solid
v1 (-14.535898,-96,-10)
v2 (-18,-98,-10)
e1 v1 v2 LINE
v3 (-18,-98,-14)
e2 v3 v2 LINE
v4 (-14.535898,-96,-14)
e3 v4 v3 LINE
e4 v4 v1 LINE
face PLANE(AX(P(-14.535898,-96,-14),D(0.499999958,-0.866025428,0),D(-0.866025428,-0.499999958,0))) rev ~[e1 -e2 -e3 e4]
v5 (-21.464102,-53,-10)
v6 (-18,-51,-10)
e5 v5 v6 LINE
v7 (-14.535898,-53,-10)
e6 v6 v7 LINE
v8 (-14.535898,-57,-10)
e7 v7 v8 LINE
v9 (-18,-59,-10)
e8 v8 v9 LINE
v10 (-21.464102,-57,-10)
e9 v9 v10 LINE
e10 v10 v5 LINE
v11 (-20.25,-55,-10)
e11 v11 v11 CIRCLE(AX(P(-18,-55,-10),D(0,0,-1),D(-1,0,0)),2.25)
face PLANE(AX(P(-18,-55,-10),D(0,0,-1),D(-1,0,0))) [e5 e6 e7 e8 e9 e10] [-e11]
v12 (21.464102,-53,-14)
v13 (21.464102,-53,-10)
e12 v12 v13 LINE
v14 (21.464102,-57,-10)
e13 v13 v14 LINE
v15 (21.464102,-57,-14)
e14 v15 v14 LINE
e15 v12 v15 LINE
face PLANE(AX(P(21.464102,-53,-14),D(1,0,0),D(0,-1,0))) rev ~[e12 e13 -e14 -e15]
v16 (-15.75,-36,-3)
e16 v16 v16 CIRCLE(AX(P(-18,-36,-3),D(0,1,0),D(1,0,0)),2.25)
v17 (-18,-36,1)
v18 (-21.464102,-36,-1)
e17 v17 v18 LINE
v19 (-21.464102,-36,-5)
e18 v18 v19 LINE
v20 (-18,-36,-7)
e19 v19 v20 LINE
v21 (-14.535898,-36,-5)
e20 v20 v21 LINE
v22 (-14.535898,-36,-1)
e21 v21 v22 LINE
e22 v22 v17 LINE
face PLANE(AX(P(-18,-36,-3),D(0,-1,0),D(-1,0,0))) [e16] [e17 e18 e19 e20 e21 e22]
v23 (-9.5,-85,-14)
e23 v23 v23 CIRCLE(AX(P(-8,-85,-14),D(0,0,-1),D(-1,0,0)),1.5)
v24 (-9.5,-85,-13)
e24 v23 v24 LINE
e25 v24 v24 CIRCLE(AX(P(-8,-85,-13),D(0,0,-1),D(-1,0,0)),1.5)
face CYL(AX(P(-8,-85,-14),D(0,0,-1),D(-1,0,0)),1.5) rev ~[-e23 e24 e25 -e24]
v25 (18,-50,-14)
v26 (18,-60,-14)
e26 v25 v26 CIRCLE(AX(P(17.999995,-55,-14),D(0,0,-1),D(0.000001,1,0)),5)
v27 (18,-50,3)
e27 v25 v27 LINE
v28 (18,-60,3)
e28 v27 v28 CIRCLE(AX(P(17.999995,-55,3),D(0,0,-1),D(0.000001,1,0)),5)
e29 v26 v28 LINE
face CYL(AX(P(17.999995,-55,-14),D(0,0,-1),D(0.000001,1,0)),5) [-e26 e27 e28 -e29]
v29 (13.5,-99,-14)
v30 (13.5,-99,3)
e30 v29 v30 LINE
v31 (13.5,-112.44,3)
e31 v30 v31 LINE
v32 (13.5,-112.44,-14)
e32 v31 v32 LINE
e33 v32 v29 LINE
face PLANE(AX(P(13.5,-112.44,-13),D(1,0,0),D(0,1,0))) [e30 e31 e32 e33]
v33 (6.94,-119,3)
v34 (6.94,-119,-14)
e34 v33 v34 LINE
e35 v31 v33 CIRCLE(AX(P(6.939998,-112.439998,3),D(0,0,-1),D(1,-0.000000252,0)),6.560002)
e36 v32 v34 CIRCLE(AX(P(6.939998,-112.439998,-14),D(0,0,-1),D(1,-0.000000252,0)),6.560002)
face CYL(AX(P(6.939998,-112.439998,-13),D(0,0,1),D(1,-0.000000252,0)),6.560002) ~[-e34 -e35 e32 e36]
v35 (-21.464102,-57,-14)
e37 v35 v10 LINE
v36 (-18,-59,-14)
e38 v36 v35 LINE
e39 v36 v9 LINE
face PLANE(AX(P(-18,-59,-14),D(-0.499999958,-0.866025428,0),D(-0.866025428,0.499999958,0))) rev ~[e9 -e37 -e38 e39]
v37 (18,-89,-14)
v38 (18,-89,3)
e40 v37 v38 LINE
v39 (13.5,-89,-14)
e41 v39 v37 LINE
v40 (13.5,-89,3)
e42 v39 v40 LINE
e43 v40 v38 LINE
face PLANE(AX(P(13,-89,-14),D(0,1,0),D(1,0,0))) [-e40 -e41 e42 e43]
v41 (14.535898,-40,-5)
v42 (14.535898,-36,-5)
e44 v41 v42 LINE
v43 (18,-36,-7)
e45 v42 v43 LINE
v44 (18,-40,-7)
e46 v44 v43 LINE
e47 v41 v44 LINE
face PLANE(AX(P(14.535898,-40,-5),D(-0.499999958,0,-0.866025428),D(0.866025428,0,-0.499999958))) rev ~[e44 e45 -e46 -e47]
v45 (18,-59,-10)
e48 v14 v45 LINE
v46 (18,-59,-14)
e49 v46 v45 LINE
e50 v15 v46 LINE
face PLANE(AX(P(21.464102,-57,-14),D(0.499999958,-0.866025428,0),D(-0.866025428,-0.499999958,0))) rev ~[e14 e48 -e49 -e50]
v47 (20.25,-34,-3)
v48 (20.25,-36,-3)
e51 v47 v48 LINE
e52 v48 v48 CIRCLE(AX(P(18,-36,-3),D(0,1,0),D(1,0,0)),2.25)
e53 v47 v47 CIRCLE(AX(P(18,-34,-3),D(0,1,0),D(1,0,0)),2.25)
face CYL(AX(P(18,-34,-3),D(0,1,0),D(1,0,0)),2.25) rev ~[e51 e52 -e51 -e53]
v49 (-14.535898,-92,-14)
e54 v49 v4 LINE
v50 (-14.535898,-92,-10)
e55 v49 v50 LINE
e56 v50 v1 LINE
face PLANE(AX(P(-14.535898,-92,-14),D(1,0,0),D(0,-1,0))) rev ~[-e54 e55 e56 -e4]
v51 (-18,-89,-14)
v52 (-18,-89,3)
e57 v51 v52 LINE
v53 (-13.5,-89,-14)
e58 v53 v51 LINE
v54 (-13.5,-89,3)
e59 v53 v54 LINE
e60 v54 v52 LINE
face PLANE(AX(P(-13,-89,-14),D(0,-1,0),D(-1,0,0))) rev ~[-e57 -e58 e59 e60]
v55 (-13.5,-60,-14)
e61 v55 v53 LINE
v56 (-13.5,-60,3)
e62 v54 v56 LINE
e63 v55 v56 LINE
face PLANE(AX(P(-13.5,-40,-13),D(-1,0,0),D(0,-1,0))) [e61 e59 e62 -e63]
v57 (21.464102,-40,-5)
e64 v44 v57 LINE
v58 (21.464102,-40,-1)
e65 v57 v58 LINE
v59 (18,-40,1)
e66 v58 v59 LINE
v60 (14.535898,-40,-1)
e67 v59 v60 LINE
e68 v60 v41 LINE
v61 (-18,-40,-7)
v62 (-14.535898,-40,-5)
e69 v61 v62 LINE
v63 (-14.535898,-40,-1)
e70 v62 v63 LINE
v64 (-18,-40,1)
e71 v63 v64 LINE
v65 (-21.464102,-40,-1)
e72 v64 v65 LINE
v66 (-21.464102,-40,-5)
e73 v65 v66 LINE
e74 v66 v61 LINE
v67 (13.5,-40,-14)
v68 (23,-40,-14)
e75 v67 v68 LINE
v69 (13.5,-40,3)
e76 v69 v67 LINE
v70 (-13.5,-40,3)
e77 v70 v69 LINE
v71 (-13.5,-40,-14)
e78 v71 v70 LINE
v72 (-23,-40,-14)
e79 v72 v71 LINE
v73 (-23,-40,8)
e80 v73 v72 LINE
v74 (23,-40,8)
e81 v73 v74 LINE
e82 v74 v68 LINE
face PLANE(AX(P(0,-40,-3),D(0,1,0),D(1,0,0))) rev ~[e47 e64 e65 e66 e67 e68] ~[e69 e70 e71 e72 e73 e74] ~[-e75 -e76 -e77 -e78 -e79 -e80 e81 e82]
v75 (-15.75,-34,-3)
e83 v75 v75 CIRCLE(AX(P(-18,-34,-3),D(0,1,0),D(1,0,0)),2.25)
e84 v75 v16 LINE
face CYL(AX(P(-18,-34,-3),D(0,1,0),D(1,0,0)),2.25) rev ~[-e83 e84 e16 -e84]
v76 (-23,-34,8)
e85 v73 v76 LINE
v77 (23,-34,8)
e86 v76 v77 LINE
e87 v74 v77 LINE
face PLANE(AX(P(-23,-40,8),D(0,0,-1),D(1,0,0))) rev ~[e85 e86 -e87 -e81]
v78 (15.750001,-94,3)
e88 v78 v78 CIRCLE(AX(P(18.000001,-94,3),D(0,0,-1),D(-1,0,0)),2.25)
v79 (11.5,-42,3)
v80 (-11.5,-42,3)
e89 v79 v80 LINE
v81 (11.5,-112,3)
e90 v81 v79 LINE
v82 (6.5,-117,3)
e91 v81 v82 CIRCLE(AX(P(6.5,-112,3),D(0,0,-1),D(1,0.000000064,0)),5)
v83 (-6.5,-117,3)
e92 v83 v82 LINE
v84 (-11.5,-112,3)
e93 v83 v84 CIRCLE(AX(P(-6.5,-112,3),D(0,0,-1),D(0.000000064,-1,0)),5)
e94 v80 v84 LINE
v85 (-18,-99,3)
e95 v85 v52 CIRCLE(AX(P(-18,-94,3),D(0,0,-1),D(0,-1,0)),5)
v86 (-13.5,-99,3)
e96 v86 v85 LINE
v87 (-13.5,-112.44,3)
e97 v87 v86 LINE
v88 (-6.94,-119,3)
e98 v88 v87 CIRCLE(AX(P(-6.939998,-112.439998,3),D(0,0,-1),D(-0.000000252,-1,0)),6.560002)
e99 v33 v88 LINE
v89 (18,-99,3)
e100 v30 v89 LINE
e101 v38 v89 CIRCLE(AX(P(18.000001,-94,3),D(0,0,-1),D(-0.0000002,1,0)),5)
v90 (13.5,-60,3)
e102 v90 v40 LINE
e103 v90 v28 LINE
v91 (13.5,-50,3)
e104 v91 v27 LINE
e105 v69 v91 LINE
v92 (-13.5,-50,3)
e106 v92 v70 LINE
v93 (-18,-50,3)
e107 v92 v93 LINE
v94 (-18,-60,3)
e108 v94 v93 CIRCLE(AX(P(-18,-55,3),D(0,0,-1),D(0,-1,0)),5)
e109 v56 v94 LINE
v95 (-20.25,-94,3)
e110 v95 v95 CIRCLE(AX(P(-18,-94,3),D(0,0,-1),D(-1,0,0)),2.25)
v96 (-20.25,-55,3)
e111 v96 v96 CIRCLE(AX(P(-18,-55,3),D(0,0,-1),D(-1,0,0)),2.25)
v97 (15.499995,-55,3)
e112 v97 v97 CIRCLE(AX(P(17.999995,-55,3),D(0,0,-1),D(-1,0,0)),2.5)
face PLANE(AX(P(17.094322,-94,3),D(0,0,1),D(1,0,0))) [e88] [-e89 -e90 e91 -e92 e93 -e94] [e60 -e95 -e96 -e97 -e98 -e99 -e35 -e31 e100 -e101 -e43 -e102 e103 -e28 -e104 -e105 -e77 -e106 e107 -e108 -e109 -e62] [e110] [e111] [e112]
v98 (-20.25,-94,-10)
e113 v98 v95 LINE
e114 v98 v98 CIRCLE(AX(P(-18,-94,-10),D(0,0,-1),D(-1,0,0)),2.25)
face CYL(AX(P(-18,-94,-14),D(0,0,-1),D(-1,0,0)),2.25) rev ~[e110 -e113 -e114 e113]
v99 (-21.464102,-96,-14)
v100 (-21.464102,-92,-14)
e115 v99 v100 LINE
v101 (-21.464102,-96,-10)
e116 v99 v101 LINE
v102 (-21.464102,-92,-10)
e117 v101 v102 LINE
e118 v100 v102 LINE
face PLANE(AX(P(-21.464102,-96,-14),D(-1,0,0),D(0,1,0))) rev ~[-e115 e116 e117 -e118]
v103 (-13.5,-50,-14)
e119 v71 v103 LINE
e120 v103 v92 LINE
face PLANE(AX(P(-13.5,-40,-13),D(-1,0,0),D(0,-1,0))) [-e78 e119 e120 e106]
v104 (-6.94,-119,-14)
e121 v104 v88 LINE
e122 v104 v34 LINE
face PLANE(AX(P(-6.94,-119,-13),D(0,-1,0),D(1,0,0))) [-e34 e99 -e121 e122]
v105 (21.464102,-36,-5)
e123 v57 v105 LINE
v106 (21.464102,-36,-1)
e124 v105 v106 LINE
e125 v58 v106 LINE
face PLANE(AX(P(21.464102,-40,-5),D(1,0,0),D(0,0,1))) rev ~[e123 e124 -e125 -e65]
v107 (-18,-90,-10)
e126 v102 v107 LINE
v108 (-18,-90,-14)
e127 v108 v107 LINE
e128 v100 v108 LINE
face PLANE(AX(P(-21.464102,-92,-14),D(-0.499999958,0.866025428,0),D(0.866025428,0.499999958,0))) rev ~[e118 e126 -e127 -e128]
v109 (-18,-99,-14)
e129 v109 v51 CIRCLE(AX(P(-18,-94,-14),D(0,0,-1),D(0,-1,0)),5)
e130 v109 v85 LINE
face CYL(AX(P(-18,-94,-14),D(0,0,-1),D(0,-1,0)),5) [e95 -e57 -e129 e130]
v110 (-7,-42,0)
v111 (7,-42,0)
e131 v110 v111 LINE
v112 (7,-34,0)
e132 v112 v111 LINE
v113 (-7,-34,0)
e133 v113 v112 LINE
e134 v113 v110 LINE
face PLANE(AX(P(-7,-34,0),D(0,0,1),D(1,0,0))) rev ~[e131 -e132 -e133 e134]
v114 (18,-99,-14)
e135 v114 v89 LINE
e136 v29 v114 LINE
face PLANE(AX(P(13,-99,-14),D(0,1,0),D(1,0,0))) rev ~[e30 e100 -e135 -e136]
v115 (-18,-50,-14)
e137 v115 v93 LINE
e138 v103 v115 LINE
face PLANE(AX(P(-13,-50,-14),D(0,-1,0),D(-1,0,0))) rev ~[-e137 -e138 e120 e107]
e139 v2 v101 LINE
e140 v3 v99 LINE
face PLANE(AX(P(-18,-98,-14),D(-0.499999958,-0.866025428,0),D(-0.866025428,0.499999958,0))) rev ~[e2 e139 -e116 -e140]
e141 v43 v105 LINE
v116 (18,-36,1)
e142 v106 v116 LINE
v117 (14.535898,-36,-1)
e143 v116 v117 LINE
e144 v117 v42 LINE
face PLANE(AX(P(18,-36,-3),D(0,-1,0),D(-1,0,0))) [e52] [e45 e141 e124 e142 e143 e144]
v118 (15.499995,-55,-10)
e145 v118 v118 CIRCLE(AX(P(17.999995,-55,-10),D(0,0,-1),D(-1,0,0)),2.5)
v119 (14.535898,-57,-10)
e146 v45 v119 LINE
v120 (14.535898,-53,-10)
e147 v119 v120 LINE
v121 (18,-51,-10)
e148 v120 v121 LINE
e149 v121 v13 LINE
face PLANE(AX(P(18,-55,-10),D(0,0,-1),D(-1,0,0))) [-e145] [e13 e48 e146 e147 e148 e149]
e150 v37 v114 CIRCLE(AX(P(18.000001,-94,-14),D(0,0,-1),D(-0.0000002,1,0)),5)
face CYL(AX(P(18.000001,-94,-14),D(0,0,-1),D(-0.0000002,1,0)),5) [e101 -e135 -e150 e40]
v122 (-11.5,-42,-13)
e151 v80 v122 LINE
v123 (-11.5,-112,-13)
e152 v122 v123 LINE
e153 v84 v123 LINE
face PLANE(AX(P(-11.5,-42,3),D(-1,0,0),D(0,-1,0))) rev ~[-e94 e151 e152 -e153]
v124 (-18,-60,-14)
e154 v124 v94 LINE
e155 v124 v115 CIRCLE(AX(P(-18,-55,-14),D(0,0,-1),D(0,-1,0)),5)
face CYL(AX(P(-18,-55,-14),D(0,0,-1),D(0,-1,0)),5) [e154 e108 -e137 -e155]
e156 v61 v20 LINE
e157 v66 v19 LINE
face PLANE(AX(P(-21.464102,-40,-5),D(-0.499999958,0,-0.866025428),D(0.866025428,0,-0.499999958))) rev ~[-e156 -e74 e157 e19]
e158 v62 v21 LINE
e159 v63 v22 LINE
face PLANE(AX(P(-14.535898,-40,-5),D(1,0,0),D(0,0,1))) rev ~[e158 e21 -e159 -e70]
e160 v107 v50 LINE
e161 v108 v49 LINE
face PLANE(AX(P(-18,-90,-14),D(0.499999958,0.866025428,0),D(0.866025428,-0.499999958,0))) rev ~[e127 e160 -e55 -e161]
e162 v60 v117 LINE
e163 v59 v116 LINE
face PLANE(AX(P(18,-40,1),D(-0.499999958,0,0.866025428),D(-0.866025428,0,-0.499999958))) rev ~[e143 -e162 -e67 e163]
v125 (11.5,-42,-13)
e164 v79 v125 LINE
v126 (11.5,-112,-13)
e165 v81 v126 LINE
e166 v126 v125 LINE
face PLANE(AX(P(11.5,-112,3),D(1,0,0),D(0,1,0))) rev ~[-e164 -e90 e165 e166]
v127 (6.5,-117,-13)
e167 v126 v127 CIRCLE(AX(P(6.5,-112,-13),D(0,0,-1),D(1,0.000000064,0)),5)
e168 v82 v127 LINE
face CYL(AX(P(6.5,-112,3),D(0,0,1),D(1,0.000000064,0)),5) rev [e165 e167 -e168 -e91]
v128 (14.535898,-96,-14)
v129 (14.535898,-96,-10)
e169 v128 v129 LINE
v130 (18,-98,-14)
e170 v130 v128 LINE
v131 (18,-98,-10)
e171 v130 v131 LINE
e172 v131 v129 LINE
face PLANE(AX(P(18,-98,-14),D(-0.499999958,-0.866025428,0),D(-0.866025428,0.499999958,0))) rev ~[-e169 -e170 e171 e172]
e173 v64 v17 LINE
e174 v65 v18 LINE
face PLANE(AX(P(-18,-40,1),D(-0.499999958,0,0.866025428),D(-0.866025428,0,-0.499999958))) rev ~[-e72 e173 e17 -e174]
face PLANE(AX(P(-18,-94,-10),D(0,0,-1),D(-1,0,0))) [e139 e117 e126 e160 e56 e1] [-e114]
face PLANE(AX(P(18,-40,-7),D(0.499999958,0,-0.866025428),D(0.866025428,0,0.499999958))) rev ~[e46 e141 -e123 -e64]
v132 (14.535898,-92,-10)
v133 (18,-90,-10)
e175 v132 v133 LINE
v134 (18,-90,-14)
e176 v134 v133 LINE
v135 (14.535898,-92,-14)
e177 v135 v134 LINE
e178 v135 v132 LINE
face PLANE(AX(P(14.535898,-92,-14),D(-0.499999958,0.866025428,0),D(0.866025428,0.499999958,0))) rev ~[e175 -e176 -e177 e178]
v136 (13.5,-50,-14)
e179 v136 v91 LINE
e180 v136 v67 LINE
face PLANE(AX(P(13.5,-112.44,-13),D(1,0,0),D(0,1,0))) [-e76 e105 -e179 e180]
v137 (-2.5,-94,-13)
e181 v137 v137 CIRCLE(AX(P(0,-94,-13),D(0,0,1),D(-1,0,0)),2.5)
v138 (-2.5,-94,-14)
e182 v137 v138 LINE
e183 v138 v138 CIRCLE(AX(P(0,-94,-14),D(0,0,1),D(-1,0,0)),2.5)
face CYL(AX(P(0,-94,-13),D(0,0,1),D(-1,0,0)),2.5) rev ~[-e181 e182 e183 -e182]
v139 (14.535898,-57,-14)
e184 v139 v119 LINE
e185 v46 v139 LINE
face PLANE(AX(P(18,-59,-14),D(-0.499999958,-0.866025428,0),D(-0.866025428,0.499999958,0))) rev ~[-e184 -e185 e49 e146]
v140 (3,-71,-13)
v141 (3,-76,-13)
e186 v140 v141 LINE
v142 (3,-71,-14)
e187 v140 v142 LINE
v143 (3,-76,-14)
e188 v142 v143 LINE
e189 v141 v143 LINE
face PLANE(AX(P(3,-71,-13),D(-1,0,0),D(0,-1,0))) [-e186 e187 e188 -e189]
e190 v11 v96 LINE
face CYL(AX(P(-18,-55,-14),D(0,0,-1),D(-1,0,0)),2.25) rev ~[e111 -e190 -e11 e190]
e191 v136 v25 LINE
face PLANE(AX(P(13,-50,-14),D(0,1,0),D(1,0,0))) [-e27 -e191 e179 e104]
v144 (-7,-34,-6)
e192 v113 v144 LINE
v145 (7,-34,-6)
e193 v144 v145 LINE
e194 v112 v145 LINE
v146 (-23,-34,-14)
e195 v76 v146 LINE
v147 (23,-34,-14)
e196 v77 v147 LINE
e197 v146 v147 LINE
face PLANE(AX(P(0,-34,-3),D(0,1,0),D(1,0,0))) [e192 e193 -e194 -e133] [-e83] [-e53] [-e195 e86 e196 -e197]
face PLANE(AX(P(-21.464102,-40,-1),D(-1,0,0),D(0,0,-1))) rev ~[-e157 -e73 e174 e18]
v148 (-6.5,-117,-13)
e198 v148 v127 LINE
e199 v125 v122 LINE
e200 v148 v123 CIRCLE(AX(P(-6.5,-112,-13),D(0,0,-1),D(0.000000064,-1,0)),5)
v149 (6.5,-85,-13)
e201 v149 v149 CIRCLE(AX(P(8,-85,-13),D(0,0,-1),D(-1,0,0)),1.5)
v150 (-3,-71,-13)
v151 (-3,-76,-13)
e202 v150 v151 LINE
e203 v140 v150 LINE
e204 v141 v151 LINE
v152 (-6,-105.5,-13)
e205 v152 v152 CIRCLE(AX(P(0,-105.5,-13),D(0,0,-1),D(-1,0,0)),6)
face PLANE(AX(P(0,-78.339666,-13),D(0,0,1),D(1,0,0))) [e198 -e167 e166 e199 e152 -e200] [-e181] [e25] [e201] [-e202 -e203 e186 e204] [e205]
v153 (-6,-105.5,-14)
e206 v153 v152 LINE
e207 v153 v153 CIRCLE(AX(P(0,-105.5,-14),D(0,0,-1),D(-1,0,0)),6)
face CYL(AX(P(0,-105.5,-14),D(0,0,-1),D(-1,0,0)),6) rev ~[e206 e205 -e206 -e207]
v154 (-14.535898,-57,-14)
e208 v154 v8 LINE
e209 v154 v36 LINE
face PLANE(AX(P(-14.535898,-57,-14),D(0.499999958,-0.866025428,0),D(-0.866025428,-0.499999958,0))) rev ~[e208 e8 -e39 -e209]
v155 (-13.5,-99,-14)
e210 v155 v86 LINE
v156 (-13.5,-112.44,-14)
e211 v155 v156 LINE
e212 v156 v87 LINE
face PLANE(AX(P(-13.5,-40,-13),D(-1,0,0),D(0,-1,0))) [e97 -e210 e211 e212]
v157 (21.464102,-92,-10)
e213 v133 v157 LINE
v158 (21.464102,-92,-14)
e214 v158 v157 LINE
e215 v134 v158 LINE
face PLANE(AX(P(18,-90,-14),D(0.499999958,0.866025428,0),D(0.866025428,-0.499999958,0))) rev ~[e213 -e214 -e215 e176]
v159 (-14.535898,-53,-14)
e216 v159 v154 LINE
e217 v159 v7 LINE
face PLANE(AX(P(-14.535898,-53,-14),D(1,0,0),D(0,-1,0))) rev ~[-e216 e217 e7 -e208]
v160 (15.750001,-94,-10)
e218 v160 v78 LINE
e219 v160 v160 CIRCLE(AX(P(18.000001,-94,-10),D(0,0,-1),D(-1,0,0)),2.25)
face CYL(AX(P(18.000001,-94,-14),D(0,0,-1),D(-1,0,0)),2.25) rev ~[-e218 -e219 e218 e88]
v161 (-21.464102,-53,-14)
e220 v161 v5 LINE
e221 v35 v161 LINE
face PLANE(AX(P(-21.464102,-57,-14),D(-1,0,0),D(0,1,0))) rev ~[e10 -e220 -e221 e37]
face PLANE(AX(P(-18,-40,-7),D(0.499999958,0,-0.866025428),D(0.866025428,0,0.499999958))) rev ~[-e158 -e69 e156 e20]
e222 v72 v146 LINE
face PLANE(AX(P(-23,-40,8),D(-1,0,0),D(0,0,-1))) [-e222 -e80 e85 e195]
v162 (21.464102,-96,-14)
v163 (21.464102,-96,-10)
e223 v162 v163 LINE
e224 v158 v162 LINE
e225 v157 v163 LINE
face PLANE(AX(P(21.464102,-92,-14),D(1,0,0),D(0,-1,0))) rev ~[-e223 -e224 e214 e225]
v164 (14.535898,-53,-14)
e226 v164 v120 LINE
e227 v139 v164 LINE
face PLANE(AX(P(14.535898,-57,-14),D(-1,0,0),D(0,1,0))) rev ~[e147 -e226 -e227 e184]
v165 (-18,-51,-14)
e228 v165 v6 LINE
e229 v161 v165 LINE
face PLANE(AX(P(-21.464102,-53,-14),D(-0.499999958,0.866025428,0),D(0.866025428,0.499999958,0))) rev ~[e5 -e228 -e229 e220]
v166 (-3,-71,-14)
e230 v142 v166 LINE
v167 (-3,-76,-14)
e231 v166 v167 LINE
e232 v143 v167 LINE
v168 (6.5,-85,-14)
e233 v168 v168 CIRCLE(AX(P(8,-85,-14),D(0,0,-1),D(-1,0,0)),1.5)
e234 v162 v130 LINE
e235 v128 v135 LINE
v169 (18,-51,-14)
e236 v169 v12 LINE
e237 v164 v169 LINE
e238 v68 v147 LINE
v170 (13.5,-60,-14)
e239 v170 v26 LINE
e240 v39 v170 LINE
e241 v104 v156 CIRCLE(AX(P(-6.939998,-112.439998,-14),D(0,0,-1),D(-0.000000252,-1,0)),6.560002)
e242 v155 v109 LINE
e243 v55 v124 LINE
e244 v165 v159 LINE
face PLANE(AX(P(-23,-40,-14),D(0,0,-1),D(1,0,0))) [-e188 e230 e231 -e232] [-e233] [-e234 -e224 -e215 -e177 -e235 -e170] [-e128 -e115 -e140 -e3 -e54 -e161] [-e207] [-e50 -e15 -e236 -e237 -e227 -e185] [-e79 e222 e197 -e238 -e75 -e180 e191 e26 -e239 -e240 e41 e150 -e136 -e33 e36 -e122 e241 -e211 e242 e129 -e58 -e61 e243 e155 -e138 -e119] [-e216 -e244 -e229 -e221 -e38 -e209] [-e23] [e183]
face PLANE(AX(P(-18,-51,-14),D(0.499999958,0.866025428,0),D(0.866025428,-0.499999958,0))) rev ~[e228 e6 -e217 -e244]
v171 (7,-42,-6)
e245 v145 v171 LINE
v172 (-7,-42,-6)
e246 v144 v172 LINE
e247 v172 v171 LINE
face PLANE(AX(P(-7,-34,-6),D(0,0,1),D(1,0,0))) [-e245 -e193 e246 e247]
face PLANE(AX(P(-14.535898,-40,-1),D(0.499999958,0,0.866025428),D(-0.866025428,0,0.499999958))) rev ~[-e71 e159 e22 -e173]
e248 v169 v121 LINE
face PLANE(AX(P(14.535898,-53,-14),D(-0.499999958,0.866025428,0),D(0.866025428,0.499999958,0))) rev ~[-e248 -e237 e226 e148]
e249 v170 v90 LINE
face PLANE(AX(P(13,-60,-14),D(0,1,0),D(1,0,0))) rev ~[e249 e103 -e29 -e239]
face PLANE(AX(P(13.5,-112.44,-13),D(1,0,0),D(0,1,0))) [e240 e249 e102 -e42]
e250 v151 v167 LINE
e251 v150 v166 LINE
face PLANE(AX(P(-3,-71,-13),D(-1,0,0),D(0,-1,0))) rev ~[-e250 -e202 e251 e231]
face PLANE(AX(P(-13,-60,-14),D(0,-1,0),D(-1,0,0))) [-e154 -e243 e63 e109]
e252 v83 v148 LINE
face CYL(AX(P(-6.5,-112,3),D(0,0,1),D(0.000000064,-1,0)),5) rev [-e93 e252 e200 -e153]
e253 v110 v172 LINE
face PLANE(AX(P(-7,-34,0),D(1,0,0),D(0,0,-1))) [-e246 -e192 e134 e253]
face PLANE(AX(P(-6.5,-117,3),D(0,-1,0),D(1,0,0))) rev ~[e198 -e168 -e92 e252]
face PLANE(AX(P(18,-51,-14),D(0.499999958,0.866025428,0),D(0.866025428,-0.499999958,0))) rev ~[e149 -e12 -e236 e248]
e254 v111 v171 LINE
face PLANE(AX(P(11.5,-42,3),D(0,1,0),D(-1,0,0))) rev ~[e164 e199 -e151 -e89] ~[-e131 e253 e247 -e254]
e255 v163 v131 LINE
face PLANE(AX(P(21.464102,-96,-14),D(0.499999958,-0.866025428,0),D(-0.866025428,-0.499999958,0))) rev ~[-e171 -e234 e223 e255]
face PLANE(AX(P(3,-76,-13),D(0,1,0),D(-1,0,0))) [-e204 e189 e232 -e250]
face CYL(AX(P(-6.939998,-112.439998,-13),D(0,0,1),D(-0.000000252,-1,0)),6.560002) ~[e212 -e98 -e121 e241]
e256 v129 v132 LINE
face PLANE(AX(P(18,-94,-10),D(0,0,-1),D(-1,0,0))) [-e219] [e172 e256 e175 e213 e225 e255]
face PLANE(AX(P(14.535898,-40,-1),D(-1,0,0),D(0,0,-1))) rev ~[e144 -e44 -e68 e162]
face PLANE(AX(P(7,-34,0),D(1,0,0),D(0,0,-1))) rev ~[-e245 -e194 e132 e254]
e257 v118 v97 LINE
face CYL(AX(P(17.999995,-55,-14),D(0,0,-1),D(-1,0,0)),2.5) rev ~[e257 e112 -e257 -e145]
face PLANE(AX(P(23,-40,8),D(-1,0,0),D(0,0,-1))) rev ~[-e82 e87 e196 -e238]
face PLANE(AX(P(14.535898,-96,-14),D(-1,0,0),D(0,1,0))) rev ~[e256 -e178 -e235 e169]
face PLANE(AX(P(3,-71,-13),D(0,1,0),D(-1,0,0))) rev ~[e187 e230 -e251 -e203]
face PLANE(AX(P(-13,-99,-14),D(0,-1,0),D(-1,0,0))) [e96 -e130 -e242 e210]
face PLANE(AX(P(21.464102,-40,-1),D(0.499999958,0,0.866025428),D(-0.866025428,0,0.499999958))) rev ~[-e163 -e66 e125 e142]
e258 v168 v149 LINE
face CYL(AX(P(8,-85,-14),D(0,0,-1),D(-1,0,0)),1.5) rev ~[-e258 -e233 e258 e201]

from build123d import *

# Parameters (mm, degrees)
PAD018_DEPTH            = 16
PAD019_DEPTH            = 1
SKETCH049_R             = 6
SKETCH049_R_2           = 1.5
POCKET012_DEPTH         = 5
SKETCH050_R             = 2.5
SKETCH050_W             = 6
SKETCH050_H             = 5
POCKET013_DEPTH         = 2
SKETCH051_R             = 2.25
SKETCH051_R_2           = 2.5
PAD020_DEPTH            = 17
SKETCH053_W             = 46
SKETCH053_H             = 22
PAD021_DEPTH            = 6
SKETCH054_R             = 2.25
POCKET015_DEPTH         = 8
POCKET016_DEPTH         = 4
SKETCH065_W             = 14
SKETCH065_H             = 6
POCKET023_DEPTH         = 8
POCKET080_DEPTH         = 4
BODY007_PLACEMENT_ANGLE = 180


with BuildPart() as part:
    # Sketch046 → Pad018 (new body)
    with BuildSketch(Plane.XY):
        with BuildLine():
            Line((-13.5, 0), (-13.5, -72.44))
            ThreePointArc((-13.5, -72.44), (-11.57862, -77.07862), (-6.94, -79))
            Line((-6.94, -79), (6.94, -79))
            ThreePointArc((6.94, -79), (11.57862, -77.07862), (13.5, -72.44))
            Line((13.5, -72.44), (13.5, 0))
            Line((13.5, 0), (-13.5, 0))
        make_face()
        with BuildLine():
            Line((11.5, -2), (11.5, -72))
            ThreePointArc((6.5, -77), (10.035534, -75.535534), (11.5, -72))
            Line((6.5, -77), (-6.5, -77))
            ThreePointArc((-11.5, -72), (-10.035534, -75.535534), (-6.5, -77))
            Line((-11.5, -72), (-11.5, -2))
            Line((-11.5, -2), (11.5, -2))
        make_face(mode=Mode.SUBTRACT)
    extrude(amount=PAD018_DEPTH)

    # Sketch047 (on Face14 of Pad018) → Pad019 (join)
    with BuildSketch(Plane.XY.offset(16)):
        with BuildLine():
            Line((-13.5, 0), (13.5, 0))
            Line((13.5, 0), (13.5, -72.44))
            ThreePointArc((6.94, -79), (11.57862, -77.07862), (13.5, -72.44))
            Line((6.94, -79), (-6.94, -79))
            ThreePointArc((-13.5, -72.44), (-11.57862, -77.07862), (-6.94, -79))
            Line((-13.5, -72.44), (-13.5, 0))
        make_face()
    extrude(amount=PAD019_DEPTH)

    # Sketch049 → Pocket012 (cut)
    with BuildSketch(Plane.XY.offset(17)):
        with Locations((0, -65.5)):
            Circle(SKETCH049_R)
        with Locations((8, -45)):
            Circle(SKETCH049_R_2)
        with Locations((-8, -45)):
            Circle(SKETCH049_R_2)
    extrude(amount=-POCKET012_DEPTH, mode=Mode.SUBTRACT)

    # Sketch050 (on Face21 of Pocket012) → Pocket013 (cut)
    with BuildSketch(Plane(origin=(0, 0, 16), x_dir=(1, 0, 0), z_dir=(0, 0, -1))):
        with Locations((0, 54)):
            Circle(SKETCH050_R)
        with Locations((0, 33.5)):
            Rectangle(SKETCH050_W, SKETCH050_H)
    extrude(amount=-POCKET013_DEPTH, mode=Mode.SUBTRACT)

    # Sketch051 (on Face17 of Pocket013) → Pad020 (join)
    with BuildSketch(Plane.XY.offset(17)):
        with BuildLine():
            Line((-13, -49), (-13, -59))
            Line((-13, -59), (-18, -59))
            ThreePointArc((-18, -49), (-23.000001, -54), (-18, -59))
            Line((-13, -49), (-18, -49))
        make_face()
        with Locations((-18.000001, -54)):
            Circle(SKETCH051_R, mode=Mode.SUBTRACT)
        with BuildLine():
            Line((13, -49), (13, -59))
            Line((13, -59), (18, -59))
            ThreePointArc((18, -59), (23, -54), (18, -49))
            Line((13, -49), (18, -49))
        make_face()
        with Locations((18, -54)):
            Circle(SKETCH051_R, mode=Mode.SUBTRACT)
        with BuildLine():
            Line((13, -10), (13, -20))
            Line((13, -20), (18, -20))
            ThreePointArc((18, -20), (23, -15), (18, -10))
            Line((13, -10), (18, -10))
        make_face()
        with Locations((18, -15)):
            Circle(SKETCH051_R, mode=Mode.SUBTRACT)
        with BuildLine():
            Line((-13, -10), (-13, -20))
            Line((-13, -20), (-18, -20))
            ThreePointArc((-18, -10), (-22.999995, -15), (-18, -20))
            Line((-13, -10), (-18, -10))
        make_face()
        with Locations((-17.999995, -15)):
            Circle(SKETCH051_R_2, mode=Mode.SUBTRACT)
    extrude(amount=-PAD020_DEPTH)

    # Sketch053 (on Face5 of Pad020) → Pad021 (join)
    with BuildSketch(Plane(origin=(0, 0, 0), x_dir=(-1, 0, 0), z_dir=(0, 1, 0))):
        with Locations((0, 6)):
            Rectangle(SKETCH053_W, SKETCH053_H)
    extrude(amount=PAD021_DEPTH)

    # Sketch054 (on Face64 of Pad021) → Pocket015 (cut)
    with BuildSketch(Plane(origin=(0, 6, 0), x_dir=(-1, 0, 0), z_dir=(0, 1, 0))):
        with Locations((-18, 6)):
            Circle(SKETCH054_R)
        with Locations((18, 6)):
            Circle(SKETCH054_R)
    extrude(amount=-POCKET015_DEPTH, mode=Mode.SUBTRACT)

    # Sketch055 (on Face5 of Pocket015) → Pocket016 (cut)
    with BuildSketch(Plane.XZ):
        Polygon((-14.535898, 4), (-14.535898, 8), (-18, 10), (-21.464102, 8), (-21.464102, 4), (-18, 2), align=None)
        Polygon((21.464102, 4), (21.464102, 8), (18, 10), (14.535898, 8), (14.535898, 4), (18, 2), align=None)
    extrude(amount=-POCKET016_DEPTH, mode=Mode.SUBTRACT)

    # Sketch065 (on Face76 of Pocket016) → Pocket023 (cut)
    with BuildSketch(Plane(origin=(0, 6, 0), x_dir=(-1, 0, 0), z_dir=(0, 1, 0))):
        with Locations((0, 6)):
            Rectangle(SKETCH065_W, SKETCH065_H)
    extrude(amount=-POCKET023_DEPTH, mode=Mode.SUBTRACT)

    # Sketch056 (on Face86 of Pocket023) → Pocket080 (cut)
    with BuildSketch(Plane.XY.offset(17)):
        Polygon((-14.535898, -56), (-14.535898, -52), (-18, -50), (-21.464102, -52), (-21.464102, -56), (-18, -58), align=None)
        Polygon((21.464102, -56), (21.464102, -52), (18, -50), (14.535898, -52), (14.535898, -56), (18, -58), align=None)
        Polygon((21.464102, -17), (21.464102, -13), (18, -11), (14.535898, -13), (14.535898, -17), (18, -19), align=None)
        Polygon((-14.535898, -17), (-14.535898, -13), (-18, -11), (-21.464102, -13), (-21.464102, -17), (-18, -19), align=None)
    extrude(amount=-POCKET080_DEPTH, mode=Mode.SUBTRACT)


with BuildPart() as part_1:
    # Body007 placement: moved
    add(part.part.moved(Location((0, -40, 3))).rotate(Axis((0, -40, 3), (0, 1, 0)), BODY007_PLACEMENT_ANGLE))


solid = part_1.part
